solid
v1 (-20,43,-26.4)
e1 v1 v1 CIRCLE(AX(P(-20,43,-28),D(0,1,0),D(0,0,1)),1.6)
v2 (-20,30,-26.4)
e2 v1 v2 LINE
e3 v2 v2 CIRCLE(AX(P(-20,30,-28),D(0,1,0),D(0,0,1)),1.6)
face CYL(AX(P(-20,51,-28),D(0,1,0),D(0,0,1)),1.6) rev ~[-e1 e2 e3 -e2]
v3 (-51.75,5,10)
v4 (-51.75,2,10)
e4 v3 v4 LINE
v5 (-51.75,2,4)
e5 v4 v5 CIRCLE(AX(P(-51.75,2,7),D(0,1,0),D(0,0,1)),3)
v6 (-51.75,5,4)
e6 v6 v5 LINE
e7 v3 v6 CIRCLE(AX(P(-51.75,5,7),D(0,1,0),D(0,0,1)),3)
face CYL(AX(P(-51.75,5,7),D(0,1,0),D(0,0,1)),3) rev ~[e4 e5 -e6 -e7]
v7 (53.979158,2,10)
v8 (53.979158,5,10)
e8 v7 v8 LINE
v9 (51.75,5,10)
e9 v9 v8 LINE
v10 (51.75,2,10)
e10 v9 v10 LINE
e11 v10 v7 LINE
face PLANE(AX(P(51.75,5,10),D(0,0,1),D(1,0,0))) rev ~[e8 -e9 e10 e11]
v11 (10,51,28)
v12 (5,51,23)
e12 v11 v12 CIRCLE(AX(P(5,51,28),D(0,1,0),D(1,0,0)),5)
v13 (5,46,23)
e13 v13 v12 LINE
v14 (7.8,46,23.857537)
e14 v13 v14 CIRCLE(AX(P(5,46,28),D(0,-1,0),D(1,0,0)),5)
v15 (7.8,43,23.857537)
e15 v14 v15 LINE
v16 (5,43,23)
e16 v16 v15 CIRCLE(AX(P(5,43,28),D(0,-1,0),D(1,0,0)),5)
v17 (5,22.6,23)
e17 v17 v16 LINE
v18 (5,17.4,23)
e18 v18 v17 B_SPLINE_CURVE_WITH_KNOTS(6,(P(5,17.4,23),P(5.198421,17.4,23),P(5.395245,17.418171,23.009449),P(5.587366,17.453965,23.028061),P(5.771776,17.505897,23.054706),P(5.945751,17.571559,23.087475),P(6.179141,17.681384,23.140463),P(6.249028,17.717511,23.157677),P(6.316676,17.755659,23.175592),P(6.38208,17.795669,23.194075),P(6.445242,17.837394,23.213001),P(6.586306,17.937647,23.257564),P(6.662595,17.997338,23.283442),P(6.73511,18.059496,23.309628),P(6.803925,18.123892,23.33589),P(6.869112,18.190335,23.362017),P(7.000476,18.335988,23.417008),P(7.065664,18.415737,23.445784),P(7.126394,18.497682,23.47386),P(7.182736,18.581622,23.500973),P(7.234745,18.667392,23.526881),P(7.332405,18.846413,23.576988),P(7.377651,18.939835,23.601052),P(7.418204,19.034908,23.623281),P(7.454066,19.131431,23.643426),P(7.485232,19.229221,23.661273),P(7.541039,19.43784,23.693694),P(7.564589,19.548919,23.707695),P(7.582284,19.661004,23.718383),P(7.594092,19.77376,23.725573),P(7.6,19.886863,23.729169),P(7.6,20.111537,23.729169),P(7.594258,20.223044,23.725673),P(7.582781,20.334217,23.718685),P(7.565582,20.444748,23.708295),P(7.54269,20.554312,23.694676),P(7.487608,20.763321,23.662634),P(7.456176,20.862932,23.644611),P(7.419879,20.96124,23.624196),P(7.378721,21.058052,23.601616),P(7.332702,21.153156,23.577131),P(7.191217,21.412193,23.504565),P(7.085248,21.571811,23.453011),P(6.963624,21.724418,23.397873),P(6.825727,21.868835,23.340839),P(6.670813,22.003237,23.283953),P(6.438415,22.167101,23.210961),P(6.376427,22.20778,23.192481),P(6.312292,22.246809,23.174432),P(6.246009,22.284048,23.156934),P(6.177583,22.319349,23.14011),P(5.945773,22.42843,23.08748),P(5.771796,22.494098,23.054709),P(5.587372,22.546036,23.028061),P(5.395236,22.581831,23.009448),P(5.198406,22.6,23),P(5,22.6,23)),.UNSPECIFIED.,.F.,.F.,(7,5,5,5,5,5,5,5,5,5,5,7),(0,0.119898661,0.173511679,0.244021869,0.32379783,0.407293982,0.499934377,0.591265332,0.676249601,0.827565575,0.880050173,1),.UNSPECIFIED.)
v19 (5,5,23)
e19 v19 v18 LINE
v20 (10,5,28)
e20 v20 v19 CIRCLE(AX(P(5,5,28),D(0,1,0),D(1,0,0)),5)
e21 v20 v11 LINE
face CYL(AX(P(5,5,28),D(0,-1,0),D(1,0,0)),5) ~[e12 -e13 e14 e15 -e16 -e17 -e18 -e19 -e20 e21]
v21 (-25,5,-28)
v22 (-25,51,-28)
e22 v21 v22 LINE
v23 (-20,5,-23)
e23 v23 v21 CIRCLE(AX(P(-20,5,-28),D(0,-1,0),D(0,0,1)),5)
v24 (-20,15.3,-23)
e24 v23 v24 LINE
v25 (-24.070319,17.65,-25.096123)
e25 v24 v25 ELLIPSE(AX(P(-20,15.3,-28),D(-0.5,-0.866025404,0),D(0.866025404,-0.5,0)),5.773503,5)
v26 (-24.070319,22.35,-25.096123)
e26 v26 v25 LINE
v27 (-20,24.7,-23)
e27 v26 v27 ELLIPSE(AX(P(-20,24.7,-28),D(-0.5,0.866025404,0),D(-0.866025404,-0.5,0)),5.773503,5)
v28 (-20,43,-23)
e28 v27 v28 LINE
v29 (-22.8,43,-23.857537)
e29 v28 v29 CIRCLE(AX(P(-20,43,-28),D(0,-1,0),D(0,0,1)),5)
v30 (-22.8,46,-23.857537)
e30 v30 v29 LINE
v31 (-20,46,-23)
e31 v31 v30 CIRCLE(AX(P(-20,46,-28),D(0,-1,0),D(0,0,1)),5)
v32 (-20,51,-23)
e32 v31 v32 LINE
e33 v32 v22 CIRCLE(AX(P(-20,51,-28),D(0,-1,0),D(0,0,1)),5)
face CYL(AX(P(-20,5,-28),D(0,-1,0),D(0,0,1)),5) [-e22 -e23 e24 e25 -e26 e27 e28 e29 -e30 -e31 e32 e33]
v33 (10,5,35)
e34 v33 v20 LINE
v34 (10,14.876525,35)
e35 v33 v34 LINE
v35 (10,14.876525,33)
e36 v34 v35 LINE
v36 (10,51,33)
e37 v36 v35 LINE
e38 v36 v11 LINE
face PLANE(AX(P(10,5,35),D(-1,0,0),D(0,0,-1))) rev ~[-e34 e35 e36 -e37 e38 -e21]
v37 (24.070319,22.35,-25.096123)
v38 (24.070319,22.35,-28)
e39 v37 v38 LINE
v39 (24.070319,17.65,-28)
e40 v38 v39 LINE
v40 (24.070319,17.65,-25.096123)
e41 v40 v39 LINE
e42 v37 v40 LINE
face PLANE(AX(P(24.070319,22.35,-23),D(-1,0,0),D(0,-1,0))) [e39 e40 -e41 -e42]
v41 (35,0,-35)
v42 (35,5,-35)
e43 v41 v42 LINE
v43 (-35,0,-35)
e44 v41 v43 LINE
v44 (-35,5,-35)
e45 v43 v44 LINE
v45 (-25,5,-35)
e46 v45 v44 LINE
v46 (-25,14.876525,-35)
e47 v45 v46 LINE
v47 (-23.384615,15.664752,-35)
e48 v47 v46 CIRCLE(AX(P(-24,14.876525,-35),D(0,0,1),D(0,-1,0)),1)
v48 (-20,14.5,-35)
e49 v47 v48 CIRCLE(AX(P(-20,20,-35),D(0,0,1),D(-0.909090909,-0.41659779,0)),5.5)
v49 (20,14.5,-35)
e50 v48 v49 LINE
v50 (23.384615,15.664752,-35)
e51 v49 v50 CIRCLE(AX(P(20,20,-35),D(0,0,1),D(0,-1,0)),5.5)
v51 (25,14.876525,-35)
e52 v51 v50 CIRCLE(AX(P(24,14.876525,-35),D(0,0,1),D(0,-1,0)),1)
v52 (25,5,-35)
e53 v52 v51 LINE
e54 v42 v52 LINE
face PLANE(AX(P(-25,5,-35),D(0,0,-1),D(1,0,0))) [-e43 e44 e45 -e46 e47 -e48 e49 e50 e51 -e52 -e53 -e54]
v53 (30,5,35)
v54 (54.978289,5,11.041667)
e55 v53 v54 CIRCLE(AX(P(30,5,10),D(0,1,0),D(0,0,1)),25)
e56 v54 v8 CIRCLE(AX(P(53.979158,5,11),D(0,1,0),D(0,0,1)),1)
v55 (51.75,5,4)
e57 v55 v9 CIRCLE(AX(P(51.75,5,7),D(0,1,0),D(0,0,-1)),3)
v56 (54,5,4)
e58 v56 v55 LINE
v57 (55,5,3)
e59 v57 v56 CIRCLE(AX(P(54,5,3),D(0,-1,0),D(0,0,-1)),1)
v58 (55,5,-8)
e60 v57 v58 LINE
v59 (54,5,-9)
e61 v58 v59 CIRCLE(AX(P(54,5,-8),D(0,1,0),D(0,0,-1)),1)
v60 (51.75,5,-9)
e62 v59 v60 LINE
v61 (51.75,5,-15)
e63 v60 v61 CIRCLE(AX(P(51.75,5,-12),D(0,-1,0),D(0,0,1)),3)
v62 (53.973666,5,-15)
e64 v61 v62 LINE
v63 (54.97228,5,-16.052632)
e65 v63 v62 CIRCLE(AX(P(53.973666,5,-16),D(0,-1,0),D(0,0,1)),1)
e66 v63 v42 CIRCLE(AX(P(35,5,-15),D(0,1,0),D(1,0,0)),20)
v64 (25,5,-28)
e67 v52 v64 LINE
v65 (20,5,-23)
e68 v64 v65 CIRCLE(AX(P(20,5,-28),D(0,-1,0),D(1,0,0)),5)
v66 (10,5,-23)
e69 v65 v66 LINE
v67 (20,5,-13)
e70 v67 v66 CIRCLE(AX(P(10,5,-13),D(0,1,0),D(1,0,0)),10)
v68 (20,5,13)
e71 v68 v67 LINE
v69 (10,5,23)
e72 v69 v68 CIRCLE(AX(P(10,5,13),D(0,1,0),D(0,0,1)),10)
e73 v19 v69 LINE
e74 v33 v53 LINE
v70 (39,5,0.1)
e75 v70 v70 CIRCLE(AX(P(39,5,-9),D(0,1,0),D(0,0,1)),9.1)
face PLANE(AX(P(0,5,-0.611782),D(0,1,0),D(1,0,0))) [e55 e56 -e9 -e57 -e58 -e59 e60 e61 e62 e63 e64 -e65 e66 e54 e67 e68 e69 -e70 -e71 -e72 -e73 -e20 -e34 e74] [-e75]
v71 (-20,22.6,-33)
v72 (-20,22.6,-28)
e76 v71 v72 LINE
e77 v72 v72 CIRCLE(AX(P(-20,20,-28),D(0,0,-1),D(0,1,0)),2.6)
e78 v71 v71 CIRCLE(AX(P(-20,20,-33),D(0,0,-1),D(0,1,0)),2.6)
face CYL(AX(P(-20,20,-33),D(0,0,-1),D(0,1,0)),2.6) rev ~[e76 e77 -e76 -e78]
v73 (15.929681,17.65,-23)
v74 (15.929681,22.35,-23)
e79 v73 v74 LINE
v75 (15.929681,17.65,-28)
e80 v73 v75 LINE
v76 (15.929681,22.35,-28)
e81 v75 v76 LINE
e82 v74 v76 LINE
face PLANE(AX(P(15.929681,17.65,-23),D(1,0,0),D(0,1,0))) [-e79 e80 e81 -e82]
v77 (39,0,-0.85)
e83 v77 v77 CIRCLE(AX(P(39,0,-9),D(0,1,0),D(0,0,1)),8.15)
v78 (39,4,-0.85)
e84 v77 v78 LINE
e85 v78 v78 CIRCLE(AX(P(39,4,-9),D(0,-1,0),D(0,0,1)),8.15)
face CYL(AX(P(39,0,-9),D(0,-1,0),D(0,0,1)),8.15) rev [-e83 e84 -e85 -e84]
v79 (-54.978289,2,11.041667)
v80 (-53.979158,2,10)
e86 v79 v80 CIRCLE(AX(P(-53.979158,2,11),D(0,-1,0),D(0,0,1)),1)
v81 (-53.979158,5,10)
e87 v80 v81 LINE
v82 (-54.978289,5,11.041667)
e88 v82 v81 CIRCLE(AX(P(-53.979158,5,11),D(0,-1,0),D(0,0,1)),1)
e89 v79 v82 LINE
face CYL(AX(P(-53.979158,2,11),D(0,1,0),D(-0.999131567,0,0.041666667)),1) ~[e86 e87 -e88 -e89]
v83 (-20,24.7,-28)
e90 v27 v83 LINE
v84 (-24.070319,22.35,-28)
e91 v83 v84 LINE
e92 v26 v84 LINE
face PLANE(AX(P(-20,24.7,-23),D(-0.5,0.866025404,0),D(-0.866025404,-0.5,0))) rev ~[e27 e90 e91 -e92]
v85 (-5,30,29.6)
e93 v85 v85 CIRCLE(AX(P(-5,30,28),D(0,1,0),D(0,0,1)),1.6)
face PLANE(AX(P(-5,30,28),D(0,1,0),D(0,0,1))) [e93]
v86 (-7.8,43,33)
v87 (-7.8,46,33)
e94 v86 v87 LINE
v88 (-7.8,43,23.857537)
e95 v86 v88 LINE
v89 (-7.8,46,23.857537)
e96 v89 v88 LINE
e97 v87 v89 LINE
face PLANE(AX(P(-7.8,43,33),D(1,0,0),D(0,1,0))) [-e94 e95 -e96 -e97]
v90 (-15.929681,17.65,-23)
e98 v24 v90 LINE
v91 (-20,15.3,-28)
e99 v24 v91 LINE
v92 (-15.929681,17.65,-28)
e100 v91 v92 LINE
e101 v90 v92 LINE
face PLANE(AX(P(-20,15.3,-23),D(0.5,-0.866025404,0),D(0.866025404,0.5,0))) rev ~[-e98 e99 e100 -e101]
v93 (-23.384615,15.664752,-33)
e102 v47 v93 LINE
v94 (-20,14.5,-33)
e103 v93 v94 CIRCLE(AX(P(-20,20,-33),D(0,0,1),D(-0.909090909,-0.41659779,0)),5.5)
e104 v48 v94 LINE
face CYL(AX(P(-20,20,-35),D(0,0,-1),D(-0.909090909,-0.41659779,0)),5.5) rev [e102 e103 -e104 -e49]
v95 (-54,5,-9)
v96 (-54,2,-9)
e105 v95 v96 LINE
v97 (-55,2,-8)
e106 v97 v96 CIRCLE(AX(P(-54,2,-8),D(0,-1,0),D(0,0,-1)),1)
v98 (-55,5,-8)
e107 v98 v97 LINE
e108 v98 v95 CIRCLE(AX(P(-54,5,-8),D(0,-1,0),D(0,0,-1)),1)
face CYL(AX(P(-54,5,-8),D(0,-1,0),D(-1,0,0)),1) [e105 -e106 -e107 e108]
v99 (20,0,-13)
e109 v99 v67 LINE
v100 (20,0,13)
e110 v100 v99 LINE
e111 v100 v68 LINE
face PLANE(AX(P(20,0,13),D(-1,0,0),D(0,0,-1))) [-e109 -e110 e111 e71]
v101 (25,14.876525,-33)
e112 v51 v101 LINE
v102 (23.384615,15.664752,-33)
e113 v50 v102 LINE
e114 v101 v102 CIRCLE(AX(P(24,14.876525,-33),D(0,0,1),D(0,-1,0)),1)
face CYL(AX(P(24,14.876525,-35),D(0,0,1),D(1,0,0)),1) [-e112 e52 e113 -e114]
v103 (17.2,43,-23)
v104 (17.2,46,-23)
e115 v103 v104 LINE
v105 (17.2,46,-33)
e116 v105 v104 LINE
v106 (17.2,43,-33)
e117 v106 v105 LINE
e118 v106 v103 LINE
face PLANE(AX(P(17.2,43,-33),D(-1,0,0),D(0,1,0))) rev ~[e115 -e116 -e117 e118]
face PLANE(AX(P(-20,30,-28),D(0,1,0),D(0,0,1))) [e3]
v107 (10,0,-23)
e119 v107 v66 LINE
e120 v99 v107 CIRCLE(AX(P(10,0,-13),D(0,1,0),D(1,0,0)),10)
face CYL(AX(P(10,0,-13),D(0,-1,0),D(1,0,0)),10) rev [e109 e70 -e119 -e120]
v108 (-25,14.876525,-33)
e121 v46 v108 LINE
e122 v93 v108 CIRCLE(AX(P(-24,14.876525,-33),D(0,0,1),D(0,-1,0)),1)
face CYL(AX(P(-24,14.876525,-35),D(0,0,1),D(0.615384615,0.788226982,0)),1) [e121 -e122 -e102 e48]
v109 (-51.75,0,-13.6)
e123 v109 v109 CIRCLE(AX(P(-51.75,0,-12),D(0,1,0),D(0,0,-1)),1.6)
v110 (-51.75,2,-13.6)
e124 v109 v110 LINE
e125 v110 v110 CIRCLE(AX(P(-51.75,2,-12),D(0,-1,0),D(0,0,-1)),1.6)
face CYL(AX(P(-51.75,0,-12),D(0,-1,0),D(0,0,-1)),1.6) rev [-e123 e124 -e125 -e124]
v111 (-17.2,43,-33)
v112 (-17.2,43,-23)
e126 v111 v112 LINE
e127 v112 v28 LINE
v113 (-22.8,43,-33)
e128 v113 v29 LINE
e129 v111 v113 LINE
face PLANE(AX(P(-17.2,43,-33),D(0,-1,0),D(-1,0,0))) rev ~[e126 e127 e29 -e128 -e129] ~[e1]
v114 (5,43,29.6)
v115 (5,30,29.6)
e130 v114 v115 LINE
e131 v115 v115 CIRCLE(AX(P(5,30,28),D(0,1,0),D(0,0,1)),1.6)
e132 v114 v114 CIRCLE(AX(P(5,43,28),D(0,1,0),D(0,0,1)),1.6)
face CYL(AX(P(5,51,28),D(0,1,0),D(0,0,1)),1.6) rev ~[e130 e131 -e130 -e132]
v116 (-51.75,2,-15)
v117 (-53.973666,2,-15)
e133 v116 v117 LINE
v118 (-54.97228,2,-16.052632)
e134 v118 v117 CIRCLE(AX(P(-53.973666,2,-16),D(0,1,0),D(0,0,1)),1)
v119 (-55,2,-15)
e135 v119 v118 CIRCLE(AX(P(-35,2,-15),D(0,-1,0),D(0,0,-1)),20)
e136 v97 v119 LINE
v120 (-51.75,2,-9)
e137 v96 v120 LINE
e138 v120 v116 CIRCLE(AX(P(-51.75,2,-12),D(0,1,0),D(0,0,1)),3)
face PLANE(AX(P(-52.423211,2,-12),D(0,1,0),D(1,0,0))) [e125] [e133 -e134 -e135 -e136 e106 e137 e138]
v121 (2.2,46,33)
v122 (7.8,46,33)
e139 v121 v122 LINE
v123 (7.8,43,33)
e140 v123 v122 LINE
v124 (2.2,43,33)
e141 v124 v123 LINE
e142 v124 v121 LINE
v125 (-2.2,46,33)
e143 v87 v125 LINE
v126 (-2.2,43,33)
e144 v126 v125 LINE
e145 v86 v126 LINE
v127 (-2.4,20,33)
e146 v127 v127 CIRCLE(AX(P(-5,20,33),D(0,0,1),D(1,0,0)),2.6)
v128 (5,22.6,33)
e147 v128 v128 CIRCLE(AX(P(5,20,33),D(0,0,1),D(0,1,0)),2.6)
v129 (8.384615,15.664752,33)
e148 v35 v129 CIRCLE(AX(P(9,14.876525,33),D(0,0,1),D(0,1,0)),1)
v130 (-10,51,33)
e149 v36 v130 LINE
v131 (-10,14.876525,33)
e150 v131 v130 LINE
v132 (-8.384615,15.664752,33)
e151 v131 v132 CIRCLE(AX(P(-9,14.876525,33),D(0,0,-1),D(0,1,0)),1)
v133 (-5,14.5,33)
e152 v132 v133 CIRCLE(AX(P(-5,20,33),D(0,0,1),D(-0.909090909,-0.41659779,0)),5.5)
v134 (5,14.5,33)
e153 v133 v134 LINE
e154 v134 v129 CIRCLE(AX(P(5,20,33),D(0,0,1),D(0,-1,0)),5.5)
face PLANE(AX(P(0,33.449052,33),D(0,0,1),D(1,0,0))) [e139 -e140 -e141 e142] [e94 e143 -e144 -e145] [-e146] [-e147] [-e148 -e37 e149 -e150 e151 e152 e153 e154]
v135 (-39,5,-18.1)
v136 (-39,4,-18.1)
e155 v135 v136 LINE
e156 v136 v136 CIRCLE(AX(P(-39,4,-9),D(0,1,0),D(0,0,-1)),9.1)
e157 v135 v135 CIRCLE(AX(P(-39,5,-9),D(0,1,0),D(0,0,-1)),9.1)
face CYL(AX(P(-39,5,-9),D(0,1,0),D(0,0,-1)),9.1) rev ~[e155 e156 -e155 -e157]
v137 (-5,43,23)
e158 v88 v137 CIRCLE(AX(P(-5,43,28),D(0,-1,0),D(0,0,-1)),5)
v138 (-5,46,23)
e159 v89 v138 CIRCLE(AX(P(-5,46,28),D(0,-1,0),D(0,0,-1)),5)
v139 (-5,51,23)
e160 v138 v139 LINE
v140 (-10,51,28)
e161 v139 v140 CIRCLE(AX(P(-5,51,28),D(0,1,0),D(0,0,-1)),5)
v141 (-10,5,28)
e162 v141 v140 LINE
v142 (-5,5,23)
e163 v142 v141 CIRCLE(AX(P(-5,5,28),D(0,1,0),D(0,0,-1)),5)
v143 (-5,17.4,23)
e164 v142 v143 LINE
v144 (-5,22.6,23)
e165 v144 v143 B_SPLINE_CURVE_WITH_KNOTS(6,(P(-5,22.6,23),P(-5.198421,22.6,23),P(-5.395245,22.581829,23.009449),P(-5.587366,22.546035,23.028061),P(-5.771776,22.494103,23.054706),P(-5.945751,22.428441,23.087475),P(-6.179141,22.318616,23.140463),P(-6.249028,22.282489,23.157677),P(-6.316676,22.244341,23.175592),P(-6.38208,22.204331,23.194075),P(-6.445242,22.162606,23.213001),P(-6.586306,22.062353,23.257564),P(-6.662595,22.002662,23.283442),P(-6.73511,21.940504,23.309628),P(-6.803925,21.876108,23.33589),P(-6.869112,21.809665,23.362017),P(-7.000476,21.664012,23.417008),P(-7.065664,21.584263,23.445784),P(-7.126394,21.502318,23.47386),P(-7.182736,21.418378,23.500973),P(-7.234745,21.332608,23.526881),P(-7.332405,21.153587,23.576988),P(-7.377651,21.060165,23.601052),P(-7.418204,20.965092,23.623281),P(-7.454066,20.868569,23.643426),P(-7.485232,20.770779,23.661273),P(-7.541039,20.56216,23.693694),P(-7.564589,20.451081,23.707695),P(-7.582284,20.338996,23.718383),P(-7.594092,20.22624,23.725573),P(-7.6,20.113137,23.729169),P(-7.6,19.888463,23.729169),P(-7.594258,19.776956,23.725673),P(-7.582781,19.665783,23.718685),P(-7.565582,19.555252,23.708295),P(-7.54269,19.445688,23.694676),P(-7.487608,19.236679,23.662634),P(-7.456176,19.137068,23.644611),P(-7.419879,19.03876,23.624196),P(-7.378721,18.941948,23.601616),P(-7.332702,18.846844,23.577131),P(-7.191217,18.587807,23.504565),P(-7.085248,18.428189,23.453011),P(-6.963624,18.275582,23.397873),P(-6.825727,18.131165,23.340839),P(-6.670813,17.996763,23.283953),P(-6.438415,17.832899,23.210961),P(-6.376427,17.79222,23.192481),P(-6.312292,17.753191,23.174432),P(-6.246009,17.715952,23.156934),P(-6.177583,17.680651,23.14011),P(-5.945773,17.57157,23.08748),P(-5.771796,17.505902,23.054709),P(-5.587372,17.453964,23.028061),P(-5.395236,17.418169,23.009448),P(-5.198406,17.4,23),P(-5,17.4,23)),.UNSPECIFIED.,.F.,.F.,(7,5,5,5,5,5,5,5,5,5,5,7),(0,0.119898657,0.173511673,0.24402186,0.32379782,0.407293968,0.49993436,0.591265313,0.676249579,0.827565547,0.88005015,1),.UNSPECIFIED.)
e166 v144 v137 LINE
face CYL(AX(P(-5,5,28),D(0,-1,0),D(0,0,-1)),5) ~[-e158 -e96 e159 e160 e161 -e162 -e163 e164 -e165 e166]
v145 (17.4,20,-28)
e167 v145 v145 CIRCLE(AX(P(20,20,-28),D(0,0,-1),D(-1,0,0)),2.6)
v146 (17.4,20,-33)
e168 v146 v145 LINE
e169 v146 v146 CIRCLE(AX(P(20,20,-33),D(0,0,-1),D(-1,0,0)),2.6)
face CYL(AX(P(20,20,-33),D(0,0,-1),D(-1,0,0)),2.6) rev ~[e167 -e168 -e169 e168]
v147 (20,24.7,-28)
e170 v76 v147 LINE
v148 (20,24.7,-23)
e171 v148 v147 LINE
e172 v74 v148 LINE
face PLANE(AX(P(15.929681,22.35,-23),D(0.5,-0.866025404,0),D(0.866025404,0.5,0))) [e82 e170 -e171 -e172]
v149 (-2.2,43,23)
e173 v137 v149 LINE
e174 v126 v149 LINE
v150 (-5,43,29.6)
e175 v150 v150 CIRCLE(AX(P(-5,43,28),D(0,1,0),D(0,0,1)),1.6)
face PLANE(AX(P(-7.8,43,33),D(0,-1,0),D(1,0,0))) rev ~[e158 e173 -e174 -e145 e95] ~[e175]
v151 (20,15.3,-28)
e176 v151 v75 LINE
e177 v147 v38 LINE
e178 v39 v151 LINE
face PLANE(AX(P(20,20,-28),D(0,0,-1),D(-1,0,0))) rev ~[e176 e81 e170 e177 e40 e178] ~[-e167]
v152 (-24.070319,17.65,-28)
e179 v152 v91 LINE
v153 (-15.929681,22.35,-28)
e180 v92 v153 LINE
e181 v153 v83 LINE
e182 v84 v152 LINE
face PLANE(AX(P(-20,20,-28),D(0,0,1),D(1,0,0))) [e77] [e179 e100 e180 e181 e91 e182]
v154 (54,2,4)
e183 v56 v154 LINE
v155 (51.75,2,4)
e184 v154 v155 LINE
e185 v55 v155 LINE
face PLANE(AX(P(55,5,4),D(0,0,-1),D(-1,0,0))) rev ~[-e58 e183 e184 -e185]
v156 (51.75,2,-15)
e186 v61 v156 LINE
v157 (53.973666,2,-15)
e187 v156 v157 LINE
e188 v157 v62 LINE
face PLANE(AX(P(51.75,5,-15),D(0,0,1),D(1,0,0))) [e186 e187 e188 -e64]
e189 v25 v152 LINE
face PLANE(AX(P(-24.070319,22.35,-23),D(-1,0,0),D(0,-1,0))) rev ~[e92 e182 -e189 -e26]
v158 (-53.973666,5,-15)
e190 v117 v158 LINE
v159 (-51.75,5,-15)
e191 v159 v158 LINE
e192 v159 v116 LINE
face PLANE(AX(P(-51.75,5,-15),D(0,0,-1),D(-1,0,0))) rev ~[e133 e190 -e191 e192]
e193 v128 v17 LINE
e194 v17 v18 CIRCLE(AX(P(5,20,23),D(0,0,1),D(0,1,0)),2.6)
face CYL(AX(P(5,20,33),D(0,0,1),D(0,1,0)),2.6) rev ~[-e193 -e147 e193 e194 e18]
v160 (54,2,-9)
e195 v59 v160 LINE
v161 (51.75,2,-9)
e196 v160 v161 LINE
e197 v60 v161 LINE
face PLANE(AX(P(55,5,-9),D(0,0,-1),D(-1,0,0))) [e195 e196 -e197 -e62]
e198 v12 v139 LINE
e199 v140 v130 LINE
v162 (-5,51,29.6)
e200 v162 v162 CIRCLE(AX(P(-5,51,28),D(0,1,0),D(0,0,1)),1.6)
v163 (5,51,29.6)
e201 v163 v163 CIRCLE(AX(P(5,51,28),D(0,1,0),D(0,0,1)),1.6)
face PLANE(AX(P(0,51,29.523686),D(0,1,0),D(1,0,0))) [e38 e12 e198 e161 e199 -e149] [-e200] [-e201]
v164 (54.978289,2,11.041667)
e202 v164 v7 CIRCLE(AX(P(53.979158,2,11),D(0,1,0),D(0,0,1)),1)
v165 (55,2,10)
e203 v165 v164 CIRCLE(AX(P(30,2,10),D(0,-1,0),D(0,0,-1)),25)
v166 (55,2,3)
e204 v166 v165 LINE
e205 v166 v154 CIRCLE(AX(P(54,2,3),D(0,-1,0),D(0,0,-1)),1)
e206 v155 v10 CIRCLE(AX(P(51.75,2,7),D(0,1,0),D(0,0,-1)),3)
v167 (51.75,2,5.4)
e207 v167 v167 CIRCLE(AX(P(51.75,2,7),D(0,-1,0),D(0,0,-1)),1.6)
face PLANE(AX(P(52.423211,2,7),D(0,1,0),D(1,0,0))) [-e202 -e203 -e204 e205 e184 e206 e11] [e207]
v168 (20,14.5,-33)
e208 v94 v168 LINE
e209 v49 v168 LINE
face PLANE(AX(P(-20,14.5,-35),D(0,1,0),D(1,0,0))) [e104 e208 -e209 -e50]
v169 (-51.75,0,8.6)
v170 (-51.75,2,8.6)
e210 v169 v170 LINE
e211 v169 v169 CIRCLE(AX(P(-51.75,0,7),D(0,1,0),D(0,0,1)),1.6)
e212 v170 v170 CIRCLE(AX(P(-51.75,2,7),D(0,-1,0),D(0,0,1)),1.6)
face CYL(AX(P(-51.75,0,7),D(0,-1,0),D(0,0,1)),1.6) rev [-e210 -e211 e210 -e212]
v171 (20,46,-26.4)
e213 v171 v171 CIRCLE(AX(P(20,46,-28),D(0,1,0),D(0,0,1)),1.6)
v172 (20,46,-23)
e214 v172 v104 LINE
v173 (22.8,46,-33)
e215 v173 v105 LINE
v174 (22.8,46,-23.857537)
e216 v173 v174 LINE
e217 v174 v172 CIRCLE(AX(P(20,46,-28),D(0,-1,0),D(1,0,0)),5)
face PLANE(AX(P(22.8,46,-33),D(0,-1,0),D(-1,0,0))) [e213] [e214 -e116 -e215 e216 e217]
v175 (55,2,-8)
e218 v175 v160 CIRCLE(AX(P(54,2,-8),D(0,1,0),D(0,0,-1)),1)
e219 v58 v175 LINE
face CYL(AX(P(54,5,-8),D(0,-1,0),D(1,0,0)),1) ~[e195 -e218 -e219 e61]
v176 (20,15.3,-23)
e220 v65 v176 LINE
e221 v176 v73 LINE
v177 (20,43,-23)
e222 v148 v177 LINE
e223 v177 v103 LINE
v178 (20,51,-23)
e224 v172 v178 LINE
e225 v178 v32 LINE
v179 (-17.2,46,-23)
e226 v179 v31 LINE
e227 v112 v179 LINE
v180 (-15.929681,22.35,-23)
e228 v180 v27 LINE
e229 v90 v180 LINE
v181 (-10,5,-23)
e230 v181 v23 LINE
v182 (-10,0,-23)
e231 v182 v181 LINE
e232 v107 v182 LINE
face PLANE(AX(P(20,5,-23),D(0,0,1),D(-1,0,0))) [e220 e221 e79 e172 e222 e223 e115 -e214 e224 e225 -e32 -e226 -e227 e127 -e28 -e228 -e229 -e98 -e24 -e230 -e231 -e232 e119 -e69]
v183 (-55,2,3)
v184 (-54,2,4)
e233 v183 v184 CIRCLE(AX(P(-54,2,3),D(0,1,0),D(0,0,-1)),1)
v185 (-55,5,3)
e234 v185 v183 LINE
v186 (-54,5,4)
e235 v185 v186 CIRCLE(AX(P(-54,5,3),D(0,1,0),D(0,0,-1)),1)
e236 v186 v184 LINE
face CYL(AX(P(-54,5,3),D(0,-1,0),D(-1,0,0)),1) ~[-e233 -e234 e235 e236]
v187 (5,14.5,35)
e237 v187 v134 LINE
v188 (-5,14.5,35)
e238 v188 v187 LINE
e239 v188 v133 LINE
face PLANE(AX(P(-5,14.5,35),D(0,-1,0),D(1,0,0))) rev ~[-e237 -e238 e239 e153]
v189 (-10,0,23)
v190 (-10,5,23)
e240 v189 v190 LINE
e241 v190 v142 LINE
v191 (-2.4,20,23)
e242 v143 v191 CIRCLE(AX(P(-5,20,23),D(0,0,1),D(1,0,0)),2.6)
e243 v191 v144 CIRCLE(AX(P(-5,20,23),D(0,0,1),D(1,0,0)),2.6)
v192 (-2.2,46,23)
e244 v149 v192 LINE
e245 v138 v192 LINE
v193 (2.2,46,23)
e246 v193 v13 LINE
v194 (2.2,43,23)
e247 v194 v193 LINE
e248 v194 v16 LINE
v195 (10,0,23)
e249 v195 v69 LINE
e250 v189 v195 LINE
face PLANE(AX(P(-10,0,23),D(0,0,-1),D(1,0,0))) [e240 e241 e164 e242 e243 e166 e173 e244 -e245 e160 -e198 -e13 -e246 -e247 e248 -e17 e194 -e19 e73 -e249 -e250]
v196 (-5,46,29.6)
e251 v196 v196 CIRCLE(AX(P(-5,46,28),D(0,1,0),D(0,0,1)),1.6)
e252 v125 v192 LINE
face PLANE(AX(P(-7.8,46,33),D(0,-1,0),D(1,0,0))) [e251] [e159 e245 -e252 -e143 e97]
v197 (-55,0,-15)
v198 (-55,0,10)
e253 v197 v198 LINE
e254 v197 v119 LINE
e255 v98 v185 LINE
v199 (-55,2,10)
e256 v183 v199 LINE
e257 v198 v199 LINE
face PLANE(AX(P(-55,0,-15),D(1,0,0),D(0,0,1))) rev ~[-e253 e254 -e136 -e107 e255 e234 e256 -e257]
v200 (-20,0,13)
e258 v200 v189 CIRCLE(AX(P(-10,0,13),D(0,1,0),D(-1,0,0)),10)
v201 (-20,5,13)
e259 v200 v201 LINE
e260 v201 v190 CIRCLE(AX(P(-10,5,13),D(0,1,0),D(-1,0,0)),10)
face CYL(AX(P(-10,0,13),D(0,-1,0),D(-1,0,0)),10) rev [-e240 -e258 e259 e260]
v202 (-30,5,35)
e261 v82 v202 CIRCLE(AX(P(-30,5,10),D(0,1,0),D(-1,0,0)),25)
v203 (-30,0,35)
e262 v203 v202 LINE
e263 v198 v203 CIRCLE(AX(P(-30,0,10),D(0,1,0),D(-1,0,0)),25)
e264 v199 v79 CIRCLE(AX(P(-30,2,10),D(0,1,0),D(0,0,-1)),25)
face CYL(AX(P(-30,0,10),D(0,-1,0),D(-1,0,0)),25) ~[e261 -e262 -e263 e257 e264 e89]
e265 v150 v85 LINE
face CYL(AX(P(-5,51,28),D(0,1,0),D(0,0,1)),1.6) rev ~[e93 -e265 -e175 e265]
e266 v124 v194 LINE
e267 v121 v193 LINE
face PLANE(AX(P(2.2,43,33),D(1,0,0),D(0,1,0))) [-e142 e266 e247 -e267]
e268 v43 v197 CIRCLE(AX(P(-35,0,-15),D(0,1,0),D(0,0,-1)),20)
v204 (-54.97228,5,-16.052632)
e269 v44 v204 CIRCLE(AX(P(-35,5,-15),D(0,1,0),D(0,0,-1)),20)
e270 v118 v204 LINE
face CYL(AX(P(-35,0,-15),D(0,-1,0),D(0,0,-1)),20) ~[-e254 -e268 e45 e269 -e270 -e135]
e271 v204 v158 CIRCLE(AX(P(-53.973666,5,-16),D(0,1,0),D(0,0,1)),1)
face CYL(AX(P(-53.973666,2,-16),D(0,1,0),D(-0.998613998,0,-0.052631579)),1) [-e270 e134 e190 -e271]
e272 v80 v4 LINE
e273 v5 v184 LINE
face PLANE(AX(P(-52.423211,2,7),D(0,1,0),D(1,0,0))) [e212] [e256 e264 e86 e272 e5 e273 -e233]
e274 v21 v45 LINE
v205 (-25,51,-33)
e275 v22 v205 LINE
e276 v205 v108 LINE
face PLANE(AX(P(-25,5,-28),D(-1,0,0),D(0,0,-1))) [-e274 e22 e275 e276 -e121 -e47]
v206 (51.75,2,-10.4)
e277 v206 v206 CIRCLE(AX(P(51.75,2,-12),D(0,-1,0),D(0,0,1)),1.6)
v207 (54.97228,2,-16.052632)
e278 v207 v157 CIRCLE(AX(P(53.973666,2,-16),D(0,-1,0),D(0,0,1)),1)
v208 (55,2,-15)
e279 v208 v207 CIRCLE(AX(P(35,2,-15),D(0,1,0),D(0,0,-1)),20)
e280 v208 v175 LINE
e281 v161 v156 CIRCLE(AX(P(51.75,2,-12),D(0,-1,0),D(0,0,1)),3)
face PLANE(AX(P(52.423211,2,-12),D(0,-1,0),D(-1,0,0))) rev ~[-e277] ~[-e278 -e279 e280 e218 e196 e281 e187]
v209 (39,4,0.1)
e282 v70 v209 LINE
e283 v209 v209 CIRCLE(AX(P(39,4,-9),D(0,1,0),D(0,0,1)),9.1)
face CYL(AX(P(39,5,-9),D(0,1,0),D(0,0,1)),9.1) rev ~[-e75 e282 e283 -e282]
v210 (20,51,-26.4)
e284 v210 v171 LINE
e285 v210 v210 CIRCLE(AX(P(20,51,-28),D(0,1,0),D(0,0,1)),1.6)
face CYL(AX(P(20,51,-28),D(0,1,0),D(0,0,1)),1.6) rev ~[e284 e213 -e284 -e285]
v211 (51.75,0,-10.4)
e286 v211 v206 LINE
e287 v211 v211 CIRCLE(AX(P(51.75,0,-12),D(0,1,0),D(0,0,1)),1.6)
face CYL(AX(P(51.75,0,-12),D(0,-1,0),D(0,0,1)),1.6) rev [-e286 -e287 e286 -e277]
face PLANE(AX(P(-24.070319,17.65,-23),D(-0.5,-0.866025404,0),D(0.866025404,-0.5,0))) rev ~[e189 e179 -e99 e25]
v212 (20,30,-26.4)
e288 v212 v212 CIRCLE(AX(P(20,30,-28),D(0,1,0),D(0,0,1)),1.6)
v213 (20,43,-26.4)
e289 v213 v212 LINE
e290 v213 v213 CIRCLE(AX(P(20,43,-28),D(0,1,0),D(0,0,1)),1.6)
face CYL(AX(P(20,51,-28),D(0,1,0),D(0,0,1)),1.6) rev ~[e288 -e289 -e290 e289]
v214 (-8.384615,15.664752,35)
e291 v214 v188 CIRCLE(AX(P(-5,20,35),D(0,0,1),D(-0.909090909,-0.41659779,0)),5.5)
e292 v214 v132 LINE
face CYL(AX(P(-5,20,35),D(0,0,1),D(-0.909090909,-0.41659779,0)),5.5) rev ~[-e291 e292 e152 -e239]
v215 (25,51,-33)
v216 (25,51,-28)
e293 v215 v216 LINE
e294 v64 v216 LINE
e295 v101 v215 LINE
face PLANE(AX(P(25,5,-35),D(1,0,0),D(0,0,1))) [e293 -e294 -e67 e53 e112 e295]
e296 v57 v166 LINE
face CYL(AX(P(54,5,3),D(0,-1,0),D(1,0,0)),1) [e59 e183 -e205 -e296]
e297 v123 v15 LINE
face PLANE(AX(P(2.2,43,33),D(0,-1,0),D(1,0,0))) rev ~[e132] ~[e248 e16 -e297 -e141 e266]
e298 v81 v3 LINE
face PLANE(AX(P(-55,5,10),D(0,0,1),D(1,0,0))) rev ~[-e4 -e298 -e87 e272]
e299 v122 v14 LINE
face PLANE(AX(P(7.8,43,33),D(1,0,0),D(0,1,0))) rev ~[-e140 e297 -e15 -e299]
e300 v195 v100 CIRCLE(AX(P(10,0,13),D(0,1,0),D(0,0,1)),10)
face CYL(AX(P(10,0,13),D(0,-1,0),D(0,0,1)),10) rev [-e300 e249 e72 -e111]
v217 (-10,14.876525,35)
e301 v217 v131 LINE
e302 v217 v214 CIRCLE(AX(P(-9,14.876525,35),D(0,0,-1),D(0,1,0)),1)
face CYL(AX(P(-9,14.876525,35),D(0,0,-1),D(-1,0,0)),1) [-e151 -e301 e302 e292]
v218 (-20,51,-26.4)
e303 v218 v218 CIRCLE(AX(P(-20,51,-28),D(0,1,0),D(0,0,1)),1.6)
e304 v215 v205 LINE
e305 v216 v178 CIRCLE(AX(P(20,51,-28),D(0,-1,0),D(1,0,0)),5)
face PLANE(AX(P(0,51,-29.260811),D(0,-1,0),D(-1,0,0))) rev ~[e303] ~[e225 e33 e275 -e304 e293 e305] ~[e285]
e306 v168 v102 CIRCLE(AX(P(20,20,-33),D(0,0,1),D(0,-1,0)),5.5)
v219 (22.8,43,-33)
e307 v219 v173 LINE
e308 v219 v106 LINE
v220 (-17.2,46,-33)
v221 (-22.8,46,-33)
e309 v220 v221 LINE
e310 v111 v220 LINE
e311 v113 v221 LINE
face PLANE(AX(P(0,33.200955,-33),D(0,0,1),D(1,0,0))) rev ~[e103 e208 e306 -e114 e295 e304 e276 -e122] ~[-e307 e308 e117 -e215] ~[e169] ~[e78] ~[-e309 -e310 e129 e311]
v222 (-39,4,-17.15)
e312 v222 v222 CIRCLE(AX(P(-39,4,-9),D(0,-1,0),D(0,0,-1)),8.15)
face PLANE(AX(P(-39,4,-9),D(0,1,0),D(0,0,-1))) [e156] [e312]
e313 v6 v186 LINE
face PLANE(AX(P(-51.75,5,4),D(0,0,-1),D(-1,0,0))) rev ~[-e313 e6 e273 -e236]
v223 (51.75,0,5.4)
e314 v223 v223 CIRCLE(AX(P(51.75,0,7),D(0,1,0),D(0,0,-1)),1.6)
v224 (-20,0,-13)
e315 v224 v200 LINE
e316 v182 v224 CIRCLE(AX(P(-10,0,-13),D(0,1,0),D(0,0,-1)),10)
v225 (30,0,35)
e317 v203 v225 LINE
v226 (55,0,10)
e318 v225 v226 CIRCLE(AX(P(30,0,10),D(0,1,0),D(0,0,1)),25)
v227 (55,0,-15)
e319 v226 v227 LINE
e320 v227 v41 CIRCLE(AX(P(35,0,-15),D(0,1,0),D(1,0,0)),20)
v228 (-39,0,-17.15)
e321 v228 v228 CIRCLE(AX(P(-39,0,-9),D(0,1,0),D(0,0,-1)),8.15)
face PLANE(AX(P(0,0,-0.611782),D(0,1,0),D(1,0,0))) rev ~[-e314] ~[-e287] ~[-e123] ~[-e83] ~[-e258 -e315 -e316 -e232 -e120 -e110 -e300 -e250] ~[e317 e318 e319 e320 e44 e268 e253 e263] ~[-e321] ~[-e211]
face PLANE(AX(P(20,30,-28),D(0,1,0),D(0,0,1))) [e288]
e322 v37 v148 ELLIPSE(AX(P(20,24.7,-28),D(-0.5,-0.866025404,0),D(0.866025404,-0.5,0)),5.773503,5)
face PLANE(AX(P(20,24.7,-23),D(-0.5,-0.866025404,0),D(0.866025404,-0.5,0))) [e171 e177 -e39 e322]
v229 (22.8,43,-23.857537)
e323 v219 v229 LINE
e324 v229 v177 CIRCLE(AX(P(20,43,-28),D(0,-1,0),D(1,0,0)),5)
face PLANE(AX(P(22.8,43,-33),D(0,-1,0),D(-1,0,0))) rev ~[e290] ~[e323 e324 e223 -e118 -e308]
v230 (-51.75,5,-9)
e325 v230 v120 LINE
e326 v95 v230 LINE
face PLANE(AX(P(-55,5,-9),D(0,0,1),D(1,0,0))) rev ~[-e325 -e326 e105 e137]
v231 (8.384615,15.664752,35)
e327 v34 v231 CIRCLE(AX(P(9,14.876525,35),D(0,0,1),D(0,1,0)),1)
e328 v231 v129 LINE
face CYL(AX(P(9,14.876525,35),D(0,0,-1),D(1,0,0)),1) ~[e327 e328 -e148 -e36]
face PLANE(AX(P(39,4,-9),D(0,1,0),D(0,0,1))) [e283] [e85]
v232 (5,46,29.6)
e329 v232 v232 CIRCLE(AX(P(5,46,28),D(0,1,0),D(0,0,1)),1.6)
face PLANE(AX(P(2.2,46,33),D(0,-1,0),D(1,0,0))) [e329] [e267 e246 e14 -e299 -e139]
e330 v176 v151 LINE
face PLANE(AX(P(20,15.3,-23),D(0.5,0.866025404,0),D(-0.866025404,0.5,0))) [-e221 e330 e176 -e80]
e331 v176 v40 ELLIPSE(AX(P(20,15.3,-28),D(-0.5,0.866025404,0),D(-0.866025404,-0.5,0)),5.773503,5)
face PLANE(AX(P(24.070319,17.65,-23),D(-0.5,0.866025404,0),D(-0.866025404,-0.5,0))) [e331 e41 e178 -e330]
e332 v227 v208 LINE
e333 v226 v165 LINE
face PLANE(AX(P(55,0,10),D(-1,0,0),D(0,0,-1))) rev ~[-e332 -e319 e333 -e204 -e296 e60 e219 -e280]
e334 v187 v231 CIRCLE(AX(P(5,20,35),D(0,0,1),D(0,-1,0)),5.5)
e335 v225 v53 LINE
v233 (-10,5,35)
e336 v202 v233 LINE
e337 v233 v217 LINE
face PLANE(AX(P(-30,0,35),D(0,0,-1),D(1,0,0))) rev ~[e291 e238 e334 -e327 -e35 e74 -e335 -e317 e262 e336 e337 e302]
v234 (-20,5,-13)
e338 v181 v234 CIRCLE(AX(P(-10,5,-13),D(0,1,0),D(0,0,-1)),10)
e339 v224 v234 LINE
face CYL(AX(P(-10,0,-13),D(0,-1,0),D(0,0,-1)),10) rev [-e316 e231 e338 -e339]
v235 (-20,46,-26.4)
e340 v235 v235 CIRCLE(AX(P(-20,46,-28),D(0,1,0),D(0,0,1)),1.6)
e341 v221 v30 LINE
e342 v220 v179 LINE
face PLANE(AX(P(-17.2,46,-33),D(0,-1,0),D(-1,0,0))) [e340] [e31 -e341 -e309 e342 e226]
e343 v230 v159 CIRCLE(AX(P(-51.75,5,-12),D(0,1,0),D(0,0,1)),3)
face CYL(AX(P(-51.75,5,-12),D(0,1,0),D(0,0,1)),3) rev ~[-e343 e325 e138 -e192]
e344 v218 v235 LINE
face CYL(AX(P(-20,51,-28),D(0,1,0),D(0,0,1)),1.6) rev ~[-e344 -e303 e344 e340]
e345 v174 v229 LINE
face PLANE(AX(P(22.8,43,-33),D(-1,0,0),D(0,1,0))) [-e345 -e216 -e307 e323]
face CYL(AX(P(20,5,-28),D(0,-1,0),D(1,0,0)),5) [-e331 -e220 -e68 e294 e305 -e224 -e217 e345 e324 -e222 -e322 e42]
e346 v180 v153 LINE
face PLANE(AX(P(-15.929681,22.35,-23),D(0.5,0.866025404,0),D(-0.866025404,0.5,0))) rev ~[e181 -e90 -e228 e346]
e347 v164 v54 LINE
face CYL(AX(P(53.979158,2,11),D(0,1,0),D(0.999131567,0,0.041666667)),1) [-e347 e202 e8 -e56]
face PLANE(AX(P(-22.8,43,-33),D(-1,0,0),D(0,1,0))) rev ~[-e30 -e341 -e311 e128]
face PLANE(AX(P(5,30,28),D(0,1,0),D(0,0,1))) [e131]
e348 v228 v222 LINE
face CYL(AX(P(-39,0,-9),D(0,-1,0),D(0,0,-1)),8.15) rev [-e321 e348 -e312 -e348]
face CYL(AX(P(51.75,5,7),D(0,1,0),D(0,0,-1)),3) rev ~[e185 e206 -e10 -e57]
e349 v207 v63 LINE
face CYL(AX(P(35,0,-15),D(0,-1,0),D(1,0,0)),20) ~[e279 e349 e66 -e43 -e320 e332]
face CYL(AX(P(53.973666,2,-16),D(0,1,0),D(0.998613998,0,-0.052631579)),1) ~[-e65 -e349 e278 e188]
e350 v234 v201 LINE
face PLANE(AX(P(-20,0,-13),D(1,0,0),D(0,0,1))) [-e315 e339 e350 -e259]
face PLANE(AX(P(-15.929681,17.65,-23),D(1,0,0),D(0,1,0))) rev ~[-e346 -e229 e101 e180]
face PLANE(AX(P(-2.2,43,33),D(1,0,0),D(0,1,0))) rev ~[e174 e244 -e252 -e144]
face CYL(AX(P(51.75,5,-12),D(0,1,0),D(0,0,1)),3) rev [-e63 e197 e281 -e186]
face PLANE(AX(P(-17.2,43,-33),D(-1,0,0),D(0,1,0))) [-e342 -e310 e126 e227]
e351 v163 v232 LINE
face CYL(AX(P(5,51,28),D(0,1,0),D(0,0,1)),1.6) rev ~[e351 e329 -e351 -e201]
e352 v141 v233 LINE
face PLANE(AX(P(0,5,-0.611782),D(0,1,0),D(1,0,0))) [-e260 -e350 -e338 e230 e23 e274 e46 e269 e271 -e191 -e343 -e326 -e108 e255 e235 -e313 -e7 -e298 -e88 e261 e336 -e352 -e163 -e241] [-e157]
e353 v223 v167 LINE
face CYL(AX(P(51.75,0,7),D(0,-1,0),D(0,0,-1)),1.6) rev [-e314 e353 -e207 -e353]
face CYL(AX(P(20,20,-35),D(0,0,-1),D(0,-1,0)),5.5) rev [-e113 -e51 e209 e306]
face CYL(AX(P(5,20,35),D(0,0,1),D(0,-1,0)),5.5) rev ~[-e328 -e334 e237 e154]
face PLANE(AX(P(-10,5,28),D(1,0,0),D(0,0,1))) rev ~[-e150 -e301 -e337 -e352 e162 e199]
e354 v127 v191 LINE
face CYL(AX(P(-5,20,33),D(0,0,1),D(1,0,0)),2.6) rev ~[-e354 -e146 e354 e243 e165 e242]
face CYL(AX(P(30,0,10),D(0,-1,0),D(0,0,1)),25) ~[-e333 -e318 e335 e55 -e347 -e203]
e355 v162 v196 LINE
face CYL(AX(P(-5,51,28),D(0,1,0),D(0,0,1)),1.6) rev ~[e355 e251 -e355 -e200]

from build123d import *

# Parameters (mm, degrees)
CROQUIS1_R              = 8.15
CROQUIS1_R_2            = 1.6
SALIENTE_EXTRUIR1_DEPTH = 5
CROQUIS2_R              = 9.1
CORTAR_EXTRUIR1_DEPTH   = 1
CORTAR_EXTRUIR2_DEPTH   = 3
REDONDEO1_R             = 1
SALIENTE_EXTRUIR2_DEPTH = 46
CORTAR_EXTRUIR3_DEPTH   = 2
CORTAR_EXTRUIR4_REACH   = 103.242
CROQUIS6_R              = 2.6
CROQUIS6_W              = 5.6
CROQUIS6_H              = 3
CORTAR_EXTRUIR5_DEPTH   = 5
SALIENTE_EXTRUIR3_DEPTH = 46
CORTAR_EXTRUIR6_DEPTH   = 2
CORTAR_EXTRUIR7_REACH   = 103.242
CROQUIS10_R             = 2.6
CROQUIS10_W             = 5.6
CROQUIS10_H             = 3
CROQUIS11_R             = 1.6
CORTAR_EXTRUIR8_DEPTH   = 21
REDONDEO2_R             = 1


with BuildPart() as part:
    # Croquis1 → Saliente-Extruir1 (new body)
    with BuildSketch(Plane(origin=(0, 0, 0), x_dir=(1, 0, 0), z_dir=(0, 1, 0))):
        with BuildLine():
            Line((-30, -35), (30, -35))
            ThreePointArc((30, -35), (47.67766953, -27.67766953), (55, -10))
            Line((55, -10), (55, 15))
            ThreePointArc((55, 15), (49.142135624, 29.142135624), (35, 35))
            Line((35, 35), (-35, 35))
            ThreePointArc((-35, 35), (-49.142135624, 29.142135624), (-55, 15))
            Line((-55, 15), (-55, -10))
            ThreePointArc((-55, -10), (-47.67766953, -27.67766953), (-30, -35))
        make_face()
        with Locations(Location((39, 9, 0), (0, 0, 270))):
            Circle(CROQUIS1_R, mode=Mode.SUBTRACT)
        with Locations(Location((51.75, 12, 0), (0, 0, 270))):
            Circle(CROQUIS1_R_2, mode=Mode.SUBTRACT)
        with Locations(Location((-39, 9, 0), (0, 0, 90))):
            Circle(CROQUIS1_R, mode=Mode.SUBTRACT)
        with Locations(Location((51.75, -7, 0), (0, 0, 90))):
            Circle(CROQUIS1_R_2, mode=Mode.SUBTRACT)
        with Locations(Location((-51.75, -7, 0), (0, 0, 270))):
            Circle(CROQUIS1_R_2, mode=Mode.SUBTRACT)
        with Locations(Location((-51.75, 12, 0), (0, 0, 90))):
            Circle(CROQUIS1_R_2, mode=Mode.SUBTRACT)
        with BuildLine():
            Line((-10, -23), (10, -23))
            ThreePointArc((10, -23), (17.071067812, -20.071067812), (20, -13))
            Line((20, -13), (20, 13))
            ThreePointArc((20, 13), (17.071067812, 20.071067812), (10, 23))
            Line((10, 23), (-10, 23))
            ThreePointArc((-10, 23), (-17.071067812, 20.071067812), (-20, 13))
            Line((-20, 13), (-20, -13))
            ThreePointArc((-20, -13), (-17.071067812, -20.071067812), (-10, -23))
        make_face(mode=Mode.SUBTRACT)
    extrude(amount=SALIENTE_EXTRUIR1_DEPTH)

    # Croquis2 → Cortar-Extruir1 (cut)
    with BuildSketch(Plane(origin=(0, 5, 0), x_dir=(1, 0, 0), z_dir=(0, 1, 0))):
        with Locations(Location((39, 9, 0), (0, 0, 270))):
            Circle(CROQUIS2_R)
        with Locations(Location((-39, 9, 0), (0, 0, 90))):
            Circle(CROQUIS2_R)
    extrude(amount=-CORTAR_EXTRUIR1_DEPTH, mode=Mode.SUBTRACT)

    # Croquis3 → Cortar-Extruir2 (cut)
    with BuildSketch(Plane(origin=(0, 5, 0), x_dir=(1, 0, 0), z_dir=(0, 1, 0))):
        with BuildLine():
            Line((51.75, 15), (55, 15))
            Line((55, 15), (55, 9))
            Line((55, 9), (51.75, 9))
            ThreePointArc((51.75, 9), (48.75, 12), (51.75, 15))
        make_face()
        with BuildLine():
            Line((51.75, -10), (55, -10))
            Line((55, -10), (55, -4))
            Line((55, -4), (51.75, -4))
            ThreePointArc((51.75, -4), (48.75, -7), (51.75, -10))
        make_face()
        with BuildLine():
            Line((-51.75, -4), (-55, -4))
            Line((-55, -4), (-55, -10))
            Line((-55, -10), (-51.75, -10))
            ThreePointArc((-51.75, -10), (-48.75, -7), (-51.75, -4))
        make_face()
        with BuildLine():
            Line((-51.75, 15), (-55, 15))
            Line((-55, 15), (-55, 9))
            Line((-55, 9), (-51.75, 9))
            ThreePointArc((-51.75, 9), (-48.75, 12), (-51.75, 15))
        make_face()
    extrude(amount=-CORTAR_EXTRUIR2_DEPTH, mode=Mode.SUBTRACT)

    # Redondeo1
    redondeo1_edges = [part.edges().sort_by_distance(p)[0] for p in [
        (-55, 3.5, -9),
        (-55, 3.5, 4),
        (55, 3.5, 4),
        (55, 3.5, -9),
        (55, 3.5, -15),
        (55, 3.5, 10),
        (-55, 3.5, 10),
        (-55, 3.5, -15),
    ]]
    fillet(redondeo1_edges, radius=REDONDEO1_R)

    # Croquis4 → Saliente-Extruir2 (add)
    with BuildSketch(Plane(origin=(0, 5, 0), x_dir=(1, 0, 0), z_dir=(0, 1, 0))):
        with BuildLine():
            Line((-25, 35), (25, 35))
            Line((25, 35), (25, 28))
            ThreePointArc((25, 28), (23.535533906, 24.464466094), (20, 23))
            Line((20, 23), (-20, 23))
            ThreePointArc((-20, 23), (-23.535533906, 24.464466094), (-25, 28))
            Line((-25, 28), (-25, 35))
        make_face()
    extrude(amount=SALIENTE_EXTRUIR2_DEPTH)

    # Croquis5 → Cortar-Extruir3 (cut)
    with BuildSketch(Plane(origin=(0, 0, -35), x_dir=(-1, 0, 0), z_dir=(0, 0, -1))):
        with BuildLine():
            Line((-25, 51), (25, 51))
            Line((25, 51), (25, 17.708712153))
            ThreePointArc((25, 17.708712153), (22.970514841, 15.371172764), (20, 14.5))
            Line((20, 14.5), (-20, 14.5))
            ThreePointArc((-20, 14.5), (-22.970514841, 15.371172764), (-25, 17.708712153))
            Line((-25, 17.708712153), (-25, 51))
        make_face()
    extrude(amount=-CORTAR_EXTRUIR3_DEPTH, mode=Mode.SUBTRACT)

    # Cortar-Extruir4: up to this face of the body (flat: up to its plane)
    cortar_extruir4_end = Plane(part.part.faces().sort_by_distance((0, 26.68556701, -23))[0])
    # Croquis6 → Cortar-Extruir4 (cut, up to the picked face)
    with BuildSketch(Plane(origin=(0, 0, -33), x_dir=(-1, 0, 0), z_dir=(0, 0, -1)), mode=Mode.PRIVATE) as cortar_extruir4_sk1:
        with Locations((-20, 20)):
            Circle(CROQUIS6_R)
    cortar_extruir4_tool1 = split(extrude(cortar_extruir4_sk1.sketch, amount=-CORTAR_EXTRUIR4_REACH, mode=Mode.PRIVATE), bisect_by=cortar_extruir4_end, keep=Keep.BOTH, mode=Mode.PRIVATE)
    # Croquis6 → Cortar-Extruir4 (cut, up to the picked face)
    with BuildSketch(Plane(origin=(0, 0, -33), x_dir=(-1, 0, 0), z_dir=(0, 0, -1)), mode=Mode.PRIVATE) as cortar_extruir4_sk2:
        with Locations(Location((20, 20, 0), (0, 0, 90))):
            Circle(CROQUIS6_R)
    cortar_extruir4_tool2 = split(extrude(cortar_extruir4_sk2.sketch, amount=-CORTAR_EXTRUIR4_REACH, mode=Mode.PRIVATE), bisect_by=cortar_extruir4_end, keep=Keep.BOTH, mode=Mode.PRIVATE)
    # Croquis6 → Cortar-Extruir4 (cut, up to the picked face)
    with BuildSketch(Plane(origin=(0, 0, -33), x_dir=(-1, 0, 0), z_dir=(0, 0, -1)), mode=Mode.PRIVATE) as cortar_extruir4_sk3:
        with Locations((-20, 44.5)):
            Rectangle(CROQUIS6_W, CROQUIS6_H)
    cortar_extruir4_tool3 = split(extrude(cortar_extruir4_sk3.sketch, amount=-CORTAR_EXTRUIR4_REACH, mode=Mode.PRIVATE), bisect_by=cortar_extruir4_end, keep=Keep.BOTH, mode=Mode.PRIVATE)
    # Croquis6 → Cortar-Extruir4 (cut, up to the picked face)
    with BuildSketch(Plane(origin=(0, 0, -33), x_dir=(-1, 0, 0), z_dir=(0, 0, -1)), mode=Mode.PRIVATE) as cortar_extruir4_sk4:
        with Locations((20, 44.5)):
            Rectangle(CROQUIS6_W, CROQUIS6_H)
    cortar_extruir4_tool4 = split(extrude(cortar_extruir4_sk4.sketch, amount=-CORTAR_EXTRUIR4_REACH, mode=Mode.PRIVATE), bisect_by=cortar_extruir4_end, keep=Keep.BOTH, mode=Mode.PRIVATE)
    add(cortar_extruir4_tool1.solids().sort_by(Axis((20, 20, -33), (0, 0, 1)))[0], mode=Mode.SUBTRACT)
    add(cortar_extruir4_tool2.solids().sort_by(Axis((-20, 20, -33), (0, 0, 1)))[0], mode=Mode.SUBTRACT)
    add(cortar_extruir4_tool3.solids().sort_by(Axis((20, 44.5, -33), (0, 0, 1)))[0], mode=Mode.SUBTRACT)
    add(cortar_extruir4_tool4.solids().sort_by(Axis((-20, 44.5, -33), (0, 0, 1)))[0], mode=Mode.SUBTRACT)

    # Croquis7 → Cortar-Extruir5 (cut)
    with BuildSketch(Plane.XY.offset(-23)):
        Polygon((-20, 24.7), (-24.070319398, 22.35), (-24.070319398, 17.65), (-20, 15.3), (-15.929680602, 17.65), (-15.929680602, 22.35), align=None)
        Polygon((15.929680602, 22.35), (20, 24.7), (24.070319398, 22.35), (24.070319398, 17.65), (20, 15.3), (15.929680602, 17.65), align=None)
    extrude(amount=-CORTAR_EXTRUIR5_DEPTH, mode=Mode.SUBTRACT)

    # Croquis8 → Saliente-Extruir3 (add)
    with BuildSketch(Plane(origin=(0, 5, 0), x_dir=(1, 0, 0), z_dir=(0, 1, 0))):
        with BuildLine():
            Line((-10, -35), (10, -35))
            Line((10, -35), (10, -28))
            ThreePointArc((10, -28), (8.535533906, -24.464466094), (5, -23))
            Line((5, -23), (-5, -23))
            ThreePointArc((-5, -23), (-8.535533906, -24.464466094), (-10, -28))
            Line((-10, -28), (-10, -35))
        make_face()
    extrude(amount=SALIENTE_EXTRUIR3_DEPTH)

    # Croquis9 → Cortar-Extruir6 (cut)
    with BuildSketch(Plane.XY.offset(35)):
        with BuildLine():
            Line((10, 17.708712153), (10, 51))
            Line((10, 51), (-10, 51))
            Line((-10, 51), (-10, 17.708712153))
            ThreePointArc((-10, 17.708712153), (-7.970514841, 15.371172764), (-5, 14.5))
            Line((-5, 14.5), (5, 14.5))
            ThreePointArc((5, 14.5), (7.970514841, 15.371172764), (10, 17.708712153))
        make_face()
    extrude(amount=-CORTAR_EXTRUIR6_DEPTH, mode=Mode.SUBTRACT)

    # Cortar-Extruir7: up to this face of the body (flat: up to its plane)
    cortar_extruir7_end = Plane(part.part.faces().sort_by_distance((0, 23.446428571, 23))[0])
    # Croquis10 → Cortar-Extruir7 (cut, up to the picked face)
    with BuildSketch(Plane.XY.offset(33), mode=Mode.PRIVATE) as cortar_extruir7_sk1:
        with Locations((-5, 20)):
            Circle(CROQUIS10_R)
    cortar_extruir7_tool1 = split(extrude(cortar_extruir7_sk1.sketch, amount=-CORTAR_EXTRUIR7_REACH, mode=Mode.PRIVATE), bisect_by=cortar_extruir7_end, keep=Keep.BOTH, mode=Mode.PRIVATE)
    # Croquis10 → Cortar-Extruir7 (cut, up to the picked face)
    with BuildSketch(Plane.XY.offset(33), mode=Mode.PRIVATE) as cortar_extruir7_sk2:
        with Locations(Location((5, 20, 0), (0, 0, 90))):
            Circle(CROQUIS10_R)
    cortar_extruir7_tool2 = split(extrude(cortar_extruir7_sk2.sketch, amount=-CORTAR_EXTRUIR7_REACH, mode=Mode.PRIVATE), bisect_by=cortar_extruir7_end, keep=Keep.BOTH, mode=Mode.PRIVATE)
    # Croquis10 → Cortar-Extruir7 (cut, up to the picked face)
    with BuildSketch(Plane.XY.offset(33), mode=Mode.PRIVATE) as cortar_extruir7_sk3:
        with Locations((-5, 44.5)):
            Rectangle(CROQUIS10_W, CROQUIS10_H)
    cortar_extruir7_tool3 = split(extrude(cortar_extruir7_sk3.sketch, amount=-CORTAR_EXTRUIR7_REACH, mode=Mode.PRIVATE), bisect_by=cortar_extruir7_end, keep=Keep.BOTH, mode=Mode.PRIVATE)
    # Croquis10 → Cortar-Extruir7 (cut, up to the picked face)
    with BuildSketch(Plane.XY.offset(33), mode=Mode.PRIVATE) as cortar_extruir7_sk4:
        with Locations((5, 44.5)):
            Rectangle(CROQUIS10_W, CROQUIS10_H)
    cortar_extruir7_tool4 = split(extrude(cortar_extruir7_sk4.sketch, amount=-CORTAR_EXTRUIR7_REACH, mode=Mode.PRIVATE), bisect_by=cortar_extruir7_end, keep=Keep.BOTH, mode=Mode.PRIVATE)
    add(cortar_extruir7_tool1.solids().sort_by(Axis((-5, 20, 33), (0, 0, -1)))[0], mode=Mode.SUBTRACT)
    add(cortar_extruir7_tool2.solids().sort_by(Axis((5, 20, 33), (0, 0, -1)))[0], mode=Mode.SUBTRACT)
    add(cortar_extruir7_tool3.solids().sort_by(Axis((-5, 44.5, 33), (0, 0, -1)))[0], mode=Mode.SUBTRACT)
    add(cortar_extruir7_tool4.solids().sort_by(Axis((5, 44.5, 33), (0, 0, -1)))[0], mode=Mode.SUBTRACT)

    # Croquis11 → Cortar-Extruir8 (cut)
    with BuildSketch(Plane(origin=(0, 51, 0), x_dir=(1, 0, 0), z_dir=(0, 1, 0))):
        with Locations(Location((-5, -28, 0), (0, 0, 270))):
            Circle(CROQUIS11_R)
        with Locations(Location((-20, 28, 0), (0, 0, 270))):
            Circle(CROQUIS11_R)
        with Locations(Location((5, -28, 0), (0, 0, 270))):
            Circle(CROQUIS11_R)
        with Locations(Location((20, 28, 0), (0, 0, 270))):
            Circle(CROQUIS11_R)
    extrude(amount=-CORTAR_EXTRUIR8_DEPTH, mode=Mode.SUBTRACT)

    # Redondeo2
    redondeo2_edges = [part.edges().sort_by_distance(p)[0] for p in [
        (25, 17.708712153, -34),
        (-25, 17.708712153, -34),
        (10, 17.708712153, 34),
        (-10, 17.708712153, 34),
    ]]
    fillet(redondeo2_edges, radius=REDONDEO2_R)


solid = part.part
